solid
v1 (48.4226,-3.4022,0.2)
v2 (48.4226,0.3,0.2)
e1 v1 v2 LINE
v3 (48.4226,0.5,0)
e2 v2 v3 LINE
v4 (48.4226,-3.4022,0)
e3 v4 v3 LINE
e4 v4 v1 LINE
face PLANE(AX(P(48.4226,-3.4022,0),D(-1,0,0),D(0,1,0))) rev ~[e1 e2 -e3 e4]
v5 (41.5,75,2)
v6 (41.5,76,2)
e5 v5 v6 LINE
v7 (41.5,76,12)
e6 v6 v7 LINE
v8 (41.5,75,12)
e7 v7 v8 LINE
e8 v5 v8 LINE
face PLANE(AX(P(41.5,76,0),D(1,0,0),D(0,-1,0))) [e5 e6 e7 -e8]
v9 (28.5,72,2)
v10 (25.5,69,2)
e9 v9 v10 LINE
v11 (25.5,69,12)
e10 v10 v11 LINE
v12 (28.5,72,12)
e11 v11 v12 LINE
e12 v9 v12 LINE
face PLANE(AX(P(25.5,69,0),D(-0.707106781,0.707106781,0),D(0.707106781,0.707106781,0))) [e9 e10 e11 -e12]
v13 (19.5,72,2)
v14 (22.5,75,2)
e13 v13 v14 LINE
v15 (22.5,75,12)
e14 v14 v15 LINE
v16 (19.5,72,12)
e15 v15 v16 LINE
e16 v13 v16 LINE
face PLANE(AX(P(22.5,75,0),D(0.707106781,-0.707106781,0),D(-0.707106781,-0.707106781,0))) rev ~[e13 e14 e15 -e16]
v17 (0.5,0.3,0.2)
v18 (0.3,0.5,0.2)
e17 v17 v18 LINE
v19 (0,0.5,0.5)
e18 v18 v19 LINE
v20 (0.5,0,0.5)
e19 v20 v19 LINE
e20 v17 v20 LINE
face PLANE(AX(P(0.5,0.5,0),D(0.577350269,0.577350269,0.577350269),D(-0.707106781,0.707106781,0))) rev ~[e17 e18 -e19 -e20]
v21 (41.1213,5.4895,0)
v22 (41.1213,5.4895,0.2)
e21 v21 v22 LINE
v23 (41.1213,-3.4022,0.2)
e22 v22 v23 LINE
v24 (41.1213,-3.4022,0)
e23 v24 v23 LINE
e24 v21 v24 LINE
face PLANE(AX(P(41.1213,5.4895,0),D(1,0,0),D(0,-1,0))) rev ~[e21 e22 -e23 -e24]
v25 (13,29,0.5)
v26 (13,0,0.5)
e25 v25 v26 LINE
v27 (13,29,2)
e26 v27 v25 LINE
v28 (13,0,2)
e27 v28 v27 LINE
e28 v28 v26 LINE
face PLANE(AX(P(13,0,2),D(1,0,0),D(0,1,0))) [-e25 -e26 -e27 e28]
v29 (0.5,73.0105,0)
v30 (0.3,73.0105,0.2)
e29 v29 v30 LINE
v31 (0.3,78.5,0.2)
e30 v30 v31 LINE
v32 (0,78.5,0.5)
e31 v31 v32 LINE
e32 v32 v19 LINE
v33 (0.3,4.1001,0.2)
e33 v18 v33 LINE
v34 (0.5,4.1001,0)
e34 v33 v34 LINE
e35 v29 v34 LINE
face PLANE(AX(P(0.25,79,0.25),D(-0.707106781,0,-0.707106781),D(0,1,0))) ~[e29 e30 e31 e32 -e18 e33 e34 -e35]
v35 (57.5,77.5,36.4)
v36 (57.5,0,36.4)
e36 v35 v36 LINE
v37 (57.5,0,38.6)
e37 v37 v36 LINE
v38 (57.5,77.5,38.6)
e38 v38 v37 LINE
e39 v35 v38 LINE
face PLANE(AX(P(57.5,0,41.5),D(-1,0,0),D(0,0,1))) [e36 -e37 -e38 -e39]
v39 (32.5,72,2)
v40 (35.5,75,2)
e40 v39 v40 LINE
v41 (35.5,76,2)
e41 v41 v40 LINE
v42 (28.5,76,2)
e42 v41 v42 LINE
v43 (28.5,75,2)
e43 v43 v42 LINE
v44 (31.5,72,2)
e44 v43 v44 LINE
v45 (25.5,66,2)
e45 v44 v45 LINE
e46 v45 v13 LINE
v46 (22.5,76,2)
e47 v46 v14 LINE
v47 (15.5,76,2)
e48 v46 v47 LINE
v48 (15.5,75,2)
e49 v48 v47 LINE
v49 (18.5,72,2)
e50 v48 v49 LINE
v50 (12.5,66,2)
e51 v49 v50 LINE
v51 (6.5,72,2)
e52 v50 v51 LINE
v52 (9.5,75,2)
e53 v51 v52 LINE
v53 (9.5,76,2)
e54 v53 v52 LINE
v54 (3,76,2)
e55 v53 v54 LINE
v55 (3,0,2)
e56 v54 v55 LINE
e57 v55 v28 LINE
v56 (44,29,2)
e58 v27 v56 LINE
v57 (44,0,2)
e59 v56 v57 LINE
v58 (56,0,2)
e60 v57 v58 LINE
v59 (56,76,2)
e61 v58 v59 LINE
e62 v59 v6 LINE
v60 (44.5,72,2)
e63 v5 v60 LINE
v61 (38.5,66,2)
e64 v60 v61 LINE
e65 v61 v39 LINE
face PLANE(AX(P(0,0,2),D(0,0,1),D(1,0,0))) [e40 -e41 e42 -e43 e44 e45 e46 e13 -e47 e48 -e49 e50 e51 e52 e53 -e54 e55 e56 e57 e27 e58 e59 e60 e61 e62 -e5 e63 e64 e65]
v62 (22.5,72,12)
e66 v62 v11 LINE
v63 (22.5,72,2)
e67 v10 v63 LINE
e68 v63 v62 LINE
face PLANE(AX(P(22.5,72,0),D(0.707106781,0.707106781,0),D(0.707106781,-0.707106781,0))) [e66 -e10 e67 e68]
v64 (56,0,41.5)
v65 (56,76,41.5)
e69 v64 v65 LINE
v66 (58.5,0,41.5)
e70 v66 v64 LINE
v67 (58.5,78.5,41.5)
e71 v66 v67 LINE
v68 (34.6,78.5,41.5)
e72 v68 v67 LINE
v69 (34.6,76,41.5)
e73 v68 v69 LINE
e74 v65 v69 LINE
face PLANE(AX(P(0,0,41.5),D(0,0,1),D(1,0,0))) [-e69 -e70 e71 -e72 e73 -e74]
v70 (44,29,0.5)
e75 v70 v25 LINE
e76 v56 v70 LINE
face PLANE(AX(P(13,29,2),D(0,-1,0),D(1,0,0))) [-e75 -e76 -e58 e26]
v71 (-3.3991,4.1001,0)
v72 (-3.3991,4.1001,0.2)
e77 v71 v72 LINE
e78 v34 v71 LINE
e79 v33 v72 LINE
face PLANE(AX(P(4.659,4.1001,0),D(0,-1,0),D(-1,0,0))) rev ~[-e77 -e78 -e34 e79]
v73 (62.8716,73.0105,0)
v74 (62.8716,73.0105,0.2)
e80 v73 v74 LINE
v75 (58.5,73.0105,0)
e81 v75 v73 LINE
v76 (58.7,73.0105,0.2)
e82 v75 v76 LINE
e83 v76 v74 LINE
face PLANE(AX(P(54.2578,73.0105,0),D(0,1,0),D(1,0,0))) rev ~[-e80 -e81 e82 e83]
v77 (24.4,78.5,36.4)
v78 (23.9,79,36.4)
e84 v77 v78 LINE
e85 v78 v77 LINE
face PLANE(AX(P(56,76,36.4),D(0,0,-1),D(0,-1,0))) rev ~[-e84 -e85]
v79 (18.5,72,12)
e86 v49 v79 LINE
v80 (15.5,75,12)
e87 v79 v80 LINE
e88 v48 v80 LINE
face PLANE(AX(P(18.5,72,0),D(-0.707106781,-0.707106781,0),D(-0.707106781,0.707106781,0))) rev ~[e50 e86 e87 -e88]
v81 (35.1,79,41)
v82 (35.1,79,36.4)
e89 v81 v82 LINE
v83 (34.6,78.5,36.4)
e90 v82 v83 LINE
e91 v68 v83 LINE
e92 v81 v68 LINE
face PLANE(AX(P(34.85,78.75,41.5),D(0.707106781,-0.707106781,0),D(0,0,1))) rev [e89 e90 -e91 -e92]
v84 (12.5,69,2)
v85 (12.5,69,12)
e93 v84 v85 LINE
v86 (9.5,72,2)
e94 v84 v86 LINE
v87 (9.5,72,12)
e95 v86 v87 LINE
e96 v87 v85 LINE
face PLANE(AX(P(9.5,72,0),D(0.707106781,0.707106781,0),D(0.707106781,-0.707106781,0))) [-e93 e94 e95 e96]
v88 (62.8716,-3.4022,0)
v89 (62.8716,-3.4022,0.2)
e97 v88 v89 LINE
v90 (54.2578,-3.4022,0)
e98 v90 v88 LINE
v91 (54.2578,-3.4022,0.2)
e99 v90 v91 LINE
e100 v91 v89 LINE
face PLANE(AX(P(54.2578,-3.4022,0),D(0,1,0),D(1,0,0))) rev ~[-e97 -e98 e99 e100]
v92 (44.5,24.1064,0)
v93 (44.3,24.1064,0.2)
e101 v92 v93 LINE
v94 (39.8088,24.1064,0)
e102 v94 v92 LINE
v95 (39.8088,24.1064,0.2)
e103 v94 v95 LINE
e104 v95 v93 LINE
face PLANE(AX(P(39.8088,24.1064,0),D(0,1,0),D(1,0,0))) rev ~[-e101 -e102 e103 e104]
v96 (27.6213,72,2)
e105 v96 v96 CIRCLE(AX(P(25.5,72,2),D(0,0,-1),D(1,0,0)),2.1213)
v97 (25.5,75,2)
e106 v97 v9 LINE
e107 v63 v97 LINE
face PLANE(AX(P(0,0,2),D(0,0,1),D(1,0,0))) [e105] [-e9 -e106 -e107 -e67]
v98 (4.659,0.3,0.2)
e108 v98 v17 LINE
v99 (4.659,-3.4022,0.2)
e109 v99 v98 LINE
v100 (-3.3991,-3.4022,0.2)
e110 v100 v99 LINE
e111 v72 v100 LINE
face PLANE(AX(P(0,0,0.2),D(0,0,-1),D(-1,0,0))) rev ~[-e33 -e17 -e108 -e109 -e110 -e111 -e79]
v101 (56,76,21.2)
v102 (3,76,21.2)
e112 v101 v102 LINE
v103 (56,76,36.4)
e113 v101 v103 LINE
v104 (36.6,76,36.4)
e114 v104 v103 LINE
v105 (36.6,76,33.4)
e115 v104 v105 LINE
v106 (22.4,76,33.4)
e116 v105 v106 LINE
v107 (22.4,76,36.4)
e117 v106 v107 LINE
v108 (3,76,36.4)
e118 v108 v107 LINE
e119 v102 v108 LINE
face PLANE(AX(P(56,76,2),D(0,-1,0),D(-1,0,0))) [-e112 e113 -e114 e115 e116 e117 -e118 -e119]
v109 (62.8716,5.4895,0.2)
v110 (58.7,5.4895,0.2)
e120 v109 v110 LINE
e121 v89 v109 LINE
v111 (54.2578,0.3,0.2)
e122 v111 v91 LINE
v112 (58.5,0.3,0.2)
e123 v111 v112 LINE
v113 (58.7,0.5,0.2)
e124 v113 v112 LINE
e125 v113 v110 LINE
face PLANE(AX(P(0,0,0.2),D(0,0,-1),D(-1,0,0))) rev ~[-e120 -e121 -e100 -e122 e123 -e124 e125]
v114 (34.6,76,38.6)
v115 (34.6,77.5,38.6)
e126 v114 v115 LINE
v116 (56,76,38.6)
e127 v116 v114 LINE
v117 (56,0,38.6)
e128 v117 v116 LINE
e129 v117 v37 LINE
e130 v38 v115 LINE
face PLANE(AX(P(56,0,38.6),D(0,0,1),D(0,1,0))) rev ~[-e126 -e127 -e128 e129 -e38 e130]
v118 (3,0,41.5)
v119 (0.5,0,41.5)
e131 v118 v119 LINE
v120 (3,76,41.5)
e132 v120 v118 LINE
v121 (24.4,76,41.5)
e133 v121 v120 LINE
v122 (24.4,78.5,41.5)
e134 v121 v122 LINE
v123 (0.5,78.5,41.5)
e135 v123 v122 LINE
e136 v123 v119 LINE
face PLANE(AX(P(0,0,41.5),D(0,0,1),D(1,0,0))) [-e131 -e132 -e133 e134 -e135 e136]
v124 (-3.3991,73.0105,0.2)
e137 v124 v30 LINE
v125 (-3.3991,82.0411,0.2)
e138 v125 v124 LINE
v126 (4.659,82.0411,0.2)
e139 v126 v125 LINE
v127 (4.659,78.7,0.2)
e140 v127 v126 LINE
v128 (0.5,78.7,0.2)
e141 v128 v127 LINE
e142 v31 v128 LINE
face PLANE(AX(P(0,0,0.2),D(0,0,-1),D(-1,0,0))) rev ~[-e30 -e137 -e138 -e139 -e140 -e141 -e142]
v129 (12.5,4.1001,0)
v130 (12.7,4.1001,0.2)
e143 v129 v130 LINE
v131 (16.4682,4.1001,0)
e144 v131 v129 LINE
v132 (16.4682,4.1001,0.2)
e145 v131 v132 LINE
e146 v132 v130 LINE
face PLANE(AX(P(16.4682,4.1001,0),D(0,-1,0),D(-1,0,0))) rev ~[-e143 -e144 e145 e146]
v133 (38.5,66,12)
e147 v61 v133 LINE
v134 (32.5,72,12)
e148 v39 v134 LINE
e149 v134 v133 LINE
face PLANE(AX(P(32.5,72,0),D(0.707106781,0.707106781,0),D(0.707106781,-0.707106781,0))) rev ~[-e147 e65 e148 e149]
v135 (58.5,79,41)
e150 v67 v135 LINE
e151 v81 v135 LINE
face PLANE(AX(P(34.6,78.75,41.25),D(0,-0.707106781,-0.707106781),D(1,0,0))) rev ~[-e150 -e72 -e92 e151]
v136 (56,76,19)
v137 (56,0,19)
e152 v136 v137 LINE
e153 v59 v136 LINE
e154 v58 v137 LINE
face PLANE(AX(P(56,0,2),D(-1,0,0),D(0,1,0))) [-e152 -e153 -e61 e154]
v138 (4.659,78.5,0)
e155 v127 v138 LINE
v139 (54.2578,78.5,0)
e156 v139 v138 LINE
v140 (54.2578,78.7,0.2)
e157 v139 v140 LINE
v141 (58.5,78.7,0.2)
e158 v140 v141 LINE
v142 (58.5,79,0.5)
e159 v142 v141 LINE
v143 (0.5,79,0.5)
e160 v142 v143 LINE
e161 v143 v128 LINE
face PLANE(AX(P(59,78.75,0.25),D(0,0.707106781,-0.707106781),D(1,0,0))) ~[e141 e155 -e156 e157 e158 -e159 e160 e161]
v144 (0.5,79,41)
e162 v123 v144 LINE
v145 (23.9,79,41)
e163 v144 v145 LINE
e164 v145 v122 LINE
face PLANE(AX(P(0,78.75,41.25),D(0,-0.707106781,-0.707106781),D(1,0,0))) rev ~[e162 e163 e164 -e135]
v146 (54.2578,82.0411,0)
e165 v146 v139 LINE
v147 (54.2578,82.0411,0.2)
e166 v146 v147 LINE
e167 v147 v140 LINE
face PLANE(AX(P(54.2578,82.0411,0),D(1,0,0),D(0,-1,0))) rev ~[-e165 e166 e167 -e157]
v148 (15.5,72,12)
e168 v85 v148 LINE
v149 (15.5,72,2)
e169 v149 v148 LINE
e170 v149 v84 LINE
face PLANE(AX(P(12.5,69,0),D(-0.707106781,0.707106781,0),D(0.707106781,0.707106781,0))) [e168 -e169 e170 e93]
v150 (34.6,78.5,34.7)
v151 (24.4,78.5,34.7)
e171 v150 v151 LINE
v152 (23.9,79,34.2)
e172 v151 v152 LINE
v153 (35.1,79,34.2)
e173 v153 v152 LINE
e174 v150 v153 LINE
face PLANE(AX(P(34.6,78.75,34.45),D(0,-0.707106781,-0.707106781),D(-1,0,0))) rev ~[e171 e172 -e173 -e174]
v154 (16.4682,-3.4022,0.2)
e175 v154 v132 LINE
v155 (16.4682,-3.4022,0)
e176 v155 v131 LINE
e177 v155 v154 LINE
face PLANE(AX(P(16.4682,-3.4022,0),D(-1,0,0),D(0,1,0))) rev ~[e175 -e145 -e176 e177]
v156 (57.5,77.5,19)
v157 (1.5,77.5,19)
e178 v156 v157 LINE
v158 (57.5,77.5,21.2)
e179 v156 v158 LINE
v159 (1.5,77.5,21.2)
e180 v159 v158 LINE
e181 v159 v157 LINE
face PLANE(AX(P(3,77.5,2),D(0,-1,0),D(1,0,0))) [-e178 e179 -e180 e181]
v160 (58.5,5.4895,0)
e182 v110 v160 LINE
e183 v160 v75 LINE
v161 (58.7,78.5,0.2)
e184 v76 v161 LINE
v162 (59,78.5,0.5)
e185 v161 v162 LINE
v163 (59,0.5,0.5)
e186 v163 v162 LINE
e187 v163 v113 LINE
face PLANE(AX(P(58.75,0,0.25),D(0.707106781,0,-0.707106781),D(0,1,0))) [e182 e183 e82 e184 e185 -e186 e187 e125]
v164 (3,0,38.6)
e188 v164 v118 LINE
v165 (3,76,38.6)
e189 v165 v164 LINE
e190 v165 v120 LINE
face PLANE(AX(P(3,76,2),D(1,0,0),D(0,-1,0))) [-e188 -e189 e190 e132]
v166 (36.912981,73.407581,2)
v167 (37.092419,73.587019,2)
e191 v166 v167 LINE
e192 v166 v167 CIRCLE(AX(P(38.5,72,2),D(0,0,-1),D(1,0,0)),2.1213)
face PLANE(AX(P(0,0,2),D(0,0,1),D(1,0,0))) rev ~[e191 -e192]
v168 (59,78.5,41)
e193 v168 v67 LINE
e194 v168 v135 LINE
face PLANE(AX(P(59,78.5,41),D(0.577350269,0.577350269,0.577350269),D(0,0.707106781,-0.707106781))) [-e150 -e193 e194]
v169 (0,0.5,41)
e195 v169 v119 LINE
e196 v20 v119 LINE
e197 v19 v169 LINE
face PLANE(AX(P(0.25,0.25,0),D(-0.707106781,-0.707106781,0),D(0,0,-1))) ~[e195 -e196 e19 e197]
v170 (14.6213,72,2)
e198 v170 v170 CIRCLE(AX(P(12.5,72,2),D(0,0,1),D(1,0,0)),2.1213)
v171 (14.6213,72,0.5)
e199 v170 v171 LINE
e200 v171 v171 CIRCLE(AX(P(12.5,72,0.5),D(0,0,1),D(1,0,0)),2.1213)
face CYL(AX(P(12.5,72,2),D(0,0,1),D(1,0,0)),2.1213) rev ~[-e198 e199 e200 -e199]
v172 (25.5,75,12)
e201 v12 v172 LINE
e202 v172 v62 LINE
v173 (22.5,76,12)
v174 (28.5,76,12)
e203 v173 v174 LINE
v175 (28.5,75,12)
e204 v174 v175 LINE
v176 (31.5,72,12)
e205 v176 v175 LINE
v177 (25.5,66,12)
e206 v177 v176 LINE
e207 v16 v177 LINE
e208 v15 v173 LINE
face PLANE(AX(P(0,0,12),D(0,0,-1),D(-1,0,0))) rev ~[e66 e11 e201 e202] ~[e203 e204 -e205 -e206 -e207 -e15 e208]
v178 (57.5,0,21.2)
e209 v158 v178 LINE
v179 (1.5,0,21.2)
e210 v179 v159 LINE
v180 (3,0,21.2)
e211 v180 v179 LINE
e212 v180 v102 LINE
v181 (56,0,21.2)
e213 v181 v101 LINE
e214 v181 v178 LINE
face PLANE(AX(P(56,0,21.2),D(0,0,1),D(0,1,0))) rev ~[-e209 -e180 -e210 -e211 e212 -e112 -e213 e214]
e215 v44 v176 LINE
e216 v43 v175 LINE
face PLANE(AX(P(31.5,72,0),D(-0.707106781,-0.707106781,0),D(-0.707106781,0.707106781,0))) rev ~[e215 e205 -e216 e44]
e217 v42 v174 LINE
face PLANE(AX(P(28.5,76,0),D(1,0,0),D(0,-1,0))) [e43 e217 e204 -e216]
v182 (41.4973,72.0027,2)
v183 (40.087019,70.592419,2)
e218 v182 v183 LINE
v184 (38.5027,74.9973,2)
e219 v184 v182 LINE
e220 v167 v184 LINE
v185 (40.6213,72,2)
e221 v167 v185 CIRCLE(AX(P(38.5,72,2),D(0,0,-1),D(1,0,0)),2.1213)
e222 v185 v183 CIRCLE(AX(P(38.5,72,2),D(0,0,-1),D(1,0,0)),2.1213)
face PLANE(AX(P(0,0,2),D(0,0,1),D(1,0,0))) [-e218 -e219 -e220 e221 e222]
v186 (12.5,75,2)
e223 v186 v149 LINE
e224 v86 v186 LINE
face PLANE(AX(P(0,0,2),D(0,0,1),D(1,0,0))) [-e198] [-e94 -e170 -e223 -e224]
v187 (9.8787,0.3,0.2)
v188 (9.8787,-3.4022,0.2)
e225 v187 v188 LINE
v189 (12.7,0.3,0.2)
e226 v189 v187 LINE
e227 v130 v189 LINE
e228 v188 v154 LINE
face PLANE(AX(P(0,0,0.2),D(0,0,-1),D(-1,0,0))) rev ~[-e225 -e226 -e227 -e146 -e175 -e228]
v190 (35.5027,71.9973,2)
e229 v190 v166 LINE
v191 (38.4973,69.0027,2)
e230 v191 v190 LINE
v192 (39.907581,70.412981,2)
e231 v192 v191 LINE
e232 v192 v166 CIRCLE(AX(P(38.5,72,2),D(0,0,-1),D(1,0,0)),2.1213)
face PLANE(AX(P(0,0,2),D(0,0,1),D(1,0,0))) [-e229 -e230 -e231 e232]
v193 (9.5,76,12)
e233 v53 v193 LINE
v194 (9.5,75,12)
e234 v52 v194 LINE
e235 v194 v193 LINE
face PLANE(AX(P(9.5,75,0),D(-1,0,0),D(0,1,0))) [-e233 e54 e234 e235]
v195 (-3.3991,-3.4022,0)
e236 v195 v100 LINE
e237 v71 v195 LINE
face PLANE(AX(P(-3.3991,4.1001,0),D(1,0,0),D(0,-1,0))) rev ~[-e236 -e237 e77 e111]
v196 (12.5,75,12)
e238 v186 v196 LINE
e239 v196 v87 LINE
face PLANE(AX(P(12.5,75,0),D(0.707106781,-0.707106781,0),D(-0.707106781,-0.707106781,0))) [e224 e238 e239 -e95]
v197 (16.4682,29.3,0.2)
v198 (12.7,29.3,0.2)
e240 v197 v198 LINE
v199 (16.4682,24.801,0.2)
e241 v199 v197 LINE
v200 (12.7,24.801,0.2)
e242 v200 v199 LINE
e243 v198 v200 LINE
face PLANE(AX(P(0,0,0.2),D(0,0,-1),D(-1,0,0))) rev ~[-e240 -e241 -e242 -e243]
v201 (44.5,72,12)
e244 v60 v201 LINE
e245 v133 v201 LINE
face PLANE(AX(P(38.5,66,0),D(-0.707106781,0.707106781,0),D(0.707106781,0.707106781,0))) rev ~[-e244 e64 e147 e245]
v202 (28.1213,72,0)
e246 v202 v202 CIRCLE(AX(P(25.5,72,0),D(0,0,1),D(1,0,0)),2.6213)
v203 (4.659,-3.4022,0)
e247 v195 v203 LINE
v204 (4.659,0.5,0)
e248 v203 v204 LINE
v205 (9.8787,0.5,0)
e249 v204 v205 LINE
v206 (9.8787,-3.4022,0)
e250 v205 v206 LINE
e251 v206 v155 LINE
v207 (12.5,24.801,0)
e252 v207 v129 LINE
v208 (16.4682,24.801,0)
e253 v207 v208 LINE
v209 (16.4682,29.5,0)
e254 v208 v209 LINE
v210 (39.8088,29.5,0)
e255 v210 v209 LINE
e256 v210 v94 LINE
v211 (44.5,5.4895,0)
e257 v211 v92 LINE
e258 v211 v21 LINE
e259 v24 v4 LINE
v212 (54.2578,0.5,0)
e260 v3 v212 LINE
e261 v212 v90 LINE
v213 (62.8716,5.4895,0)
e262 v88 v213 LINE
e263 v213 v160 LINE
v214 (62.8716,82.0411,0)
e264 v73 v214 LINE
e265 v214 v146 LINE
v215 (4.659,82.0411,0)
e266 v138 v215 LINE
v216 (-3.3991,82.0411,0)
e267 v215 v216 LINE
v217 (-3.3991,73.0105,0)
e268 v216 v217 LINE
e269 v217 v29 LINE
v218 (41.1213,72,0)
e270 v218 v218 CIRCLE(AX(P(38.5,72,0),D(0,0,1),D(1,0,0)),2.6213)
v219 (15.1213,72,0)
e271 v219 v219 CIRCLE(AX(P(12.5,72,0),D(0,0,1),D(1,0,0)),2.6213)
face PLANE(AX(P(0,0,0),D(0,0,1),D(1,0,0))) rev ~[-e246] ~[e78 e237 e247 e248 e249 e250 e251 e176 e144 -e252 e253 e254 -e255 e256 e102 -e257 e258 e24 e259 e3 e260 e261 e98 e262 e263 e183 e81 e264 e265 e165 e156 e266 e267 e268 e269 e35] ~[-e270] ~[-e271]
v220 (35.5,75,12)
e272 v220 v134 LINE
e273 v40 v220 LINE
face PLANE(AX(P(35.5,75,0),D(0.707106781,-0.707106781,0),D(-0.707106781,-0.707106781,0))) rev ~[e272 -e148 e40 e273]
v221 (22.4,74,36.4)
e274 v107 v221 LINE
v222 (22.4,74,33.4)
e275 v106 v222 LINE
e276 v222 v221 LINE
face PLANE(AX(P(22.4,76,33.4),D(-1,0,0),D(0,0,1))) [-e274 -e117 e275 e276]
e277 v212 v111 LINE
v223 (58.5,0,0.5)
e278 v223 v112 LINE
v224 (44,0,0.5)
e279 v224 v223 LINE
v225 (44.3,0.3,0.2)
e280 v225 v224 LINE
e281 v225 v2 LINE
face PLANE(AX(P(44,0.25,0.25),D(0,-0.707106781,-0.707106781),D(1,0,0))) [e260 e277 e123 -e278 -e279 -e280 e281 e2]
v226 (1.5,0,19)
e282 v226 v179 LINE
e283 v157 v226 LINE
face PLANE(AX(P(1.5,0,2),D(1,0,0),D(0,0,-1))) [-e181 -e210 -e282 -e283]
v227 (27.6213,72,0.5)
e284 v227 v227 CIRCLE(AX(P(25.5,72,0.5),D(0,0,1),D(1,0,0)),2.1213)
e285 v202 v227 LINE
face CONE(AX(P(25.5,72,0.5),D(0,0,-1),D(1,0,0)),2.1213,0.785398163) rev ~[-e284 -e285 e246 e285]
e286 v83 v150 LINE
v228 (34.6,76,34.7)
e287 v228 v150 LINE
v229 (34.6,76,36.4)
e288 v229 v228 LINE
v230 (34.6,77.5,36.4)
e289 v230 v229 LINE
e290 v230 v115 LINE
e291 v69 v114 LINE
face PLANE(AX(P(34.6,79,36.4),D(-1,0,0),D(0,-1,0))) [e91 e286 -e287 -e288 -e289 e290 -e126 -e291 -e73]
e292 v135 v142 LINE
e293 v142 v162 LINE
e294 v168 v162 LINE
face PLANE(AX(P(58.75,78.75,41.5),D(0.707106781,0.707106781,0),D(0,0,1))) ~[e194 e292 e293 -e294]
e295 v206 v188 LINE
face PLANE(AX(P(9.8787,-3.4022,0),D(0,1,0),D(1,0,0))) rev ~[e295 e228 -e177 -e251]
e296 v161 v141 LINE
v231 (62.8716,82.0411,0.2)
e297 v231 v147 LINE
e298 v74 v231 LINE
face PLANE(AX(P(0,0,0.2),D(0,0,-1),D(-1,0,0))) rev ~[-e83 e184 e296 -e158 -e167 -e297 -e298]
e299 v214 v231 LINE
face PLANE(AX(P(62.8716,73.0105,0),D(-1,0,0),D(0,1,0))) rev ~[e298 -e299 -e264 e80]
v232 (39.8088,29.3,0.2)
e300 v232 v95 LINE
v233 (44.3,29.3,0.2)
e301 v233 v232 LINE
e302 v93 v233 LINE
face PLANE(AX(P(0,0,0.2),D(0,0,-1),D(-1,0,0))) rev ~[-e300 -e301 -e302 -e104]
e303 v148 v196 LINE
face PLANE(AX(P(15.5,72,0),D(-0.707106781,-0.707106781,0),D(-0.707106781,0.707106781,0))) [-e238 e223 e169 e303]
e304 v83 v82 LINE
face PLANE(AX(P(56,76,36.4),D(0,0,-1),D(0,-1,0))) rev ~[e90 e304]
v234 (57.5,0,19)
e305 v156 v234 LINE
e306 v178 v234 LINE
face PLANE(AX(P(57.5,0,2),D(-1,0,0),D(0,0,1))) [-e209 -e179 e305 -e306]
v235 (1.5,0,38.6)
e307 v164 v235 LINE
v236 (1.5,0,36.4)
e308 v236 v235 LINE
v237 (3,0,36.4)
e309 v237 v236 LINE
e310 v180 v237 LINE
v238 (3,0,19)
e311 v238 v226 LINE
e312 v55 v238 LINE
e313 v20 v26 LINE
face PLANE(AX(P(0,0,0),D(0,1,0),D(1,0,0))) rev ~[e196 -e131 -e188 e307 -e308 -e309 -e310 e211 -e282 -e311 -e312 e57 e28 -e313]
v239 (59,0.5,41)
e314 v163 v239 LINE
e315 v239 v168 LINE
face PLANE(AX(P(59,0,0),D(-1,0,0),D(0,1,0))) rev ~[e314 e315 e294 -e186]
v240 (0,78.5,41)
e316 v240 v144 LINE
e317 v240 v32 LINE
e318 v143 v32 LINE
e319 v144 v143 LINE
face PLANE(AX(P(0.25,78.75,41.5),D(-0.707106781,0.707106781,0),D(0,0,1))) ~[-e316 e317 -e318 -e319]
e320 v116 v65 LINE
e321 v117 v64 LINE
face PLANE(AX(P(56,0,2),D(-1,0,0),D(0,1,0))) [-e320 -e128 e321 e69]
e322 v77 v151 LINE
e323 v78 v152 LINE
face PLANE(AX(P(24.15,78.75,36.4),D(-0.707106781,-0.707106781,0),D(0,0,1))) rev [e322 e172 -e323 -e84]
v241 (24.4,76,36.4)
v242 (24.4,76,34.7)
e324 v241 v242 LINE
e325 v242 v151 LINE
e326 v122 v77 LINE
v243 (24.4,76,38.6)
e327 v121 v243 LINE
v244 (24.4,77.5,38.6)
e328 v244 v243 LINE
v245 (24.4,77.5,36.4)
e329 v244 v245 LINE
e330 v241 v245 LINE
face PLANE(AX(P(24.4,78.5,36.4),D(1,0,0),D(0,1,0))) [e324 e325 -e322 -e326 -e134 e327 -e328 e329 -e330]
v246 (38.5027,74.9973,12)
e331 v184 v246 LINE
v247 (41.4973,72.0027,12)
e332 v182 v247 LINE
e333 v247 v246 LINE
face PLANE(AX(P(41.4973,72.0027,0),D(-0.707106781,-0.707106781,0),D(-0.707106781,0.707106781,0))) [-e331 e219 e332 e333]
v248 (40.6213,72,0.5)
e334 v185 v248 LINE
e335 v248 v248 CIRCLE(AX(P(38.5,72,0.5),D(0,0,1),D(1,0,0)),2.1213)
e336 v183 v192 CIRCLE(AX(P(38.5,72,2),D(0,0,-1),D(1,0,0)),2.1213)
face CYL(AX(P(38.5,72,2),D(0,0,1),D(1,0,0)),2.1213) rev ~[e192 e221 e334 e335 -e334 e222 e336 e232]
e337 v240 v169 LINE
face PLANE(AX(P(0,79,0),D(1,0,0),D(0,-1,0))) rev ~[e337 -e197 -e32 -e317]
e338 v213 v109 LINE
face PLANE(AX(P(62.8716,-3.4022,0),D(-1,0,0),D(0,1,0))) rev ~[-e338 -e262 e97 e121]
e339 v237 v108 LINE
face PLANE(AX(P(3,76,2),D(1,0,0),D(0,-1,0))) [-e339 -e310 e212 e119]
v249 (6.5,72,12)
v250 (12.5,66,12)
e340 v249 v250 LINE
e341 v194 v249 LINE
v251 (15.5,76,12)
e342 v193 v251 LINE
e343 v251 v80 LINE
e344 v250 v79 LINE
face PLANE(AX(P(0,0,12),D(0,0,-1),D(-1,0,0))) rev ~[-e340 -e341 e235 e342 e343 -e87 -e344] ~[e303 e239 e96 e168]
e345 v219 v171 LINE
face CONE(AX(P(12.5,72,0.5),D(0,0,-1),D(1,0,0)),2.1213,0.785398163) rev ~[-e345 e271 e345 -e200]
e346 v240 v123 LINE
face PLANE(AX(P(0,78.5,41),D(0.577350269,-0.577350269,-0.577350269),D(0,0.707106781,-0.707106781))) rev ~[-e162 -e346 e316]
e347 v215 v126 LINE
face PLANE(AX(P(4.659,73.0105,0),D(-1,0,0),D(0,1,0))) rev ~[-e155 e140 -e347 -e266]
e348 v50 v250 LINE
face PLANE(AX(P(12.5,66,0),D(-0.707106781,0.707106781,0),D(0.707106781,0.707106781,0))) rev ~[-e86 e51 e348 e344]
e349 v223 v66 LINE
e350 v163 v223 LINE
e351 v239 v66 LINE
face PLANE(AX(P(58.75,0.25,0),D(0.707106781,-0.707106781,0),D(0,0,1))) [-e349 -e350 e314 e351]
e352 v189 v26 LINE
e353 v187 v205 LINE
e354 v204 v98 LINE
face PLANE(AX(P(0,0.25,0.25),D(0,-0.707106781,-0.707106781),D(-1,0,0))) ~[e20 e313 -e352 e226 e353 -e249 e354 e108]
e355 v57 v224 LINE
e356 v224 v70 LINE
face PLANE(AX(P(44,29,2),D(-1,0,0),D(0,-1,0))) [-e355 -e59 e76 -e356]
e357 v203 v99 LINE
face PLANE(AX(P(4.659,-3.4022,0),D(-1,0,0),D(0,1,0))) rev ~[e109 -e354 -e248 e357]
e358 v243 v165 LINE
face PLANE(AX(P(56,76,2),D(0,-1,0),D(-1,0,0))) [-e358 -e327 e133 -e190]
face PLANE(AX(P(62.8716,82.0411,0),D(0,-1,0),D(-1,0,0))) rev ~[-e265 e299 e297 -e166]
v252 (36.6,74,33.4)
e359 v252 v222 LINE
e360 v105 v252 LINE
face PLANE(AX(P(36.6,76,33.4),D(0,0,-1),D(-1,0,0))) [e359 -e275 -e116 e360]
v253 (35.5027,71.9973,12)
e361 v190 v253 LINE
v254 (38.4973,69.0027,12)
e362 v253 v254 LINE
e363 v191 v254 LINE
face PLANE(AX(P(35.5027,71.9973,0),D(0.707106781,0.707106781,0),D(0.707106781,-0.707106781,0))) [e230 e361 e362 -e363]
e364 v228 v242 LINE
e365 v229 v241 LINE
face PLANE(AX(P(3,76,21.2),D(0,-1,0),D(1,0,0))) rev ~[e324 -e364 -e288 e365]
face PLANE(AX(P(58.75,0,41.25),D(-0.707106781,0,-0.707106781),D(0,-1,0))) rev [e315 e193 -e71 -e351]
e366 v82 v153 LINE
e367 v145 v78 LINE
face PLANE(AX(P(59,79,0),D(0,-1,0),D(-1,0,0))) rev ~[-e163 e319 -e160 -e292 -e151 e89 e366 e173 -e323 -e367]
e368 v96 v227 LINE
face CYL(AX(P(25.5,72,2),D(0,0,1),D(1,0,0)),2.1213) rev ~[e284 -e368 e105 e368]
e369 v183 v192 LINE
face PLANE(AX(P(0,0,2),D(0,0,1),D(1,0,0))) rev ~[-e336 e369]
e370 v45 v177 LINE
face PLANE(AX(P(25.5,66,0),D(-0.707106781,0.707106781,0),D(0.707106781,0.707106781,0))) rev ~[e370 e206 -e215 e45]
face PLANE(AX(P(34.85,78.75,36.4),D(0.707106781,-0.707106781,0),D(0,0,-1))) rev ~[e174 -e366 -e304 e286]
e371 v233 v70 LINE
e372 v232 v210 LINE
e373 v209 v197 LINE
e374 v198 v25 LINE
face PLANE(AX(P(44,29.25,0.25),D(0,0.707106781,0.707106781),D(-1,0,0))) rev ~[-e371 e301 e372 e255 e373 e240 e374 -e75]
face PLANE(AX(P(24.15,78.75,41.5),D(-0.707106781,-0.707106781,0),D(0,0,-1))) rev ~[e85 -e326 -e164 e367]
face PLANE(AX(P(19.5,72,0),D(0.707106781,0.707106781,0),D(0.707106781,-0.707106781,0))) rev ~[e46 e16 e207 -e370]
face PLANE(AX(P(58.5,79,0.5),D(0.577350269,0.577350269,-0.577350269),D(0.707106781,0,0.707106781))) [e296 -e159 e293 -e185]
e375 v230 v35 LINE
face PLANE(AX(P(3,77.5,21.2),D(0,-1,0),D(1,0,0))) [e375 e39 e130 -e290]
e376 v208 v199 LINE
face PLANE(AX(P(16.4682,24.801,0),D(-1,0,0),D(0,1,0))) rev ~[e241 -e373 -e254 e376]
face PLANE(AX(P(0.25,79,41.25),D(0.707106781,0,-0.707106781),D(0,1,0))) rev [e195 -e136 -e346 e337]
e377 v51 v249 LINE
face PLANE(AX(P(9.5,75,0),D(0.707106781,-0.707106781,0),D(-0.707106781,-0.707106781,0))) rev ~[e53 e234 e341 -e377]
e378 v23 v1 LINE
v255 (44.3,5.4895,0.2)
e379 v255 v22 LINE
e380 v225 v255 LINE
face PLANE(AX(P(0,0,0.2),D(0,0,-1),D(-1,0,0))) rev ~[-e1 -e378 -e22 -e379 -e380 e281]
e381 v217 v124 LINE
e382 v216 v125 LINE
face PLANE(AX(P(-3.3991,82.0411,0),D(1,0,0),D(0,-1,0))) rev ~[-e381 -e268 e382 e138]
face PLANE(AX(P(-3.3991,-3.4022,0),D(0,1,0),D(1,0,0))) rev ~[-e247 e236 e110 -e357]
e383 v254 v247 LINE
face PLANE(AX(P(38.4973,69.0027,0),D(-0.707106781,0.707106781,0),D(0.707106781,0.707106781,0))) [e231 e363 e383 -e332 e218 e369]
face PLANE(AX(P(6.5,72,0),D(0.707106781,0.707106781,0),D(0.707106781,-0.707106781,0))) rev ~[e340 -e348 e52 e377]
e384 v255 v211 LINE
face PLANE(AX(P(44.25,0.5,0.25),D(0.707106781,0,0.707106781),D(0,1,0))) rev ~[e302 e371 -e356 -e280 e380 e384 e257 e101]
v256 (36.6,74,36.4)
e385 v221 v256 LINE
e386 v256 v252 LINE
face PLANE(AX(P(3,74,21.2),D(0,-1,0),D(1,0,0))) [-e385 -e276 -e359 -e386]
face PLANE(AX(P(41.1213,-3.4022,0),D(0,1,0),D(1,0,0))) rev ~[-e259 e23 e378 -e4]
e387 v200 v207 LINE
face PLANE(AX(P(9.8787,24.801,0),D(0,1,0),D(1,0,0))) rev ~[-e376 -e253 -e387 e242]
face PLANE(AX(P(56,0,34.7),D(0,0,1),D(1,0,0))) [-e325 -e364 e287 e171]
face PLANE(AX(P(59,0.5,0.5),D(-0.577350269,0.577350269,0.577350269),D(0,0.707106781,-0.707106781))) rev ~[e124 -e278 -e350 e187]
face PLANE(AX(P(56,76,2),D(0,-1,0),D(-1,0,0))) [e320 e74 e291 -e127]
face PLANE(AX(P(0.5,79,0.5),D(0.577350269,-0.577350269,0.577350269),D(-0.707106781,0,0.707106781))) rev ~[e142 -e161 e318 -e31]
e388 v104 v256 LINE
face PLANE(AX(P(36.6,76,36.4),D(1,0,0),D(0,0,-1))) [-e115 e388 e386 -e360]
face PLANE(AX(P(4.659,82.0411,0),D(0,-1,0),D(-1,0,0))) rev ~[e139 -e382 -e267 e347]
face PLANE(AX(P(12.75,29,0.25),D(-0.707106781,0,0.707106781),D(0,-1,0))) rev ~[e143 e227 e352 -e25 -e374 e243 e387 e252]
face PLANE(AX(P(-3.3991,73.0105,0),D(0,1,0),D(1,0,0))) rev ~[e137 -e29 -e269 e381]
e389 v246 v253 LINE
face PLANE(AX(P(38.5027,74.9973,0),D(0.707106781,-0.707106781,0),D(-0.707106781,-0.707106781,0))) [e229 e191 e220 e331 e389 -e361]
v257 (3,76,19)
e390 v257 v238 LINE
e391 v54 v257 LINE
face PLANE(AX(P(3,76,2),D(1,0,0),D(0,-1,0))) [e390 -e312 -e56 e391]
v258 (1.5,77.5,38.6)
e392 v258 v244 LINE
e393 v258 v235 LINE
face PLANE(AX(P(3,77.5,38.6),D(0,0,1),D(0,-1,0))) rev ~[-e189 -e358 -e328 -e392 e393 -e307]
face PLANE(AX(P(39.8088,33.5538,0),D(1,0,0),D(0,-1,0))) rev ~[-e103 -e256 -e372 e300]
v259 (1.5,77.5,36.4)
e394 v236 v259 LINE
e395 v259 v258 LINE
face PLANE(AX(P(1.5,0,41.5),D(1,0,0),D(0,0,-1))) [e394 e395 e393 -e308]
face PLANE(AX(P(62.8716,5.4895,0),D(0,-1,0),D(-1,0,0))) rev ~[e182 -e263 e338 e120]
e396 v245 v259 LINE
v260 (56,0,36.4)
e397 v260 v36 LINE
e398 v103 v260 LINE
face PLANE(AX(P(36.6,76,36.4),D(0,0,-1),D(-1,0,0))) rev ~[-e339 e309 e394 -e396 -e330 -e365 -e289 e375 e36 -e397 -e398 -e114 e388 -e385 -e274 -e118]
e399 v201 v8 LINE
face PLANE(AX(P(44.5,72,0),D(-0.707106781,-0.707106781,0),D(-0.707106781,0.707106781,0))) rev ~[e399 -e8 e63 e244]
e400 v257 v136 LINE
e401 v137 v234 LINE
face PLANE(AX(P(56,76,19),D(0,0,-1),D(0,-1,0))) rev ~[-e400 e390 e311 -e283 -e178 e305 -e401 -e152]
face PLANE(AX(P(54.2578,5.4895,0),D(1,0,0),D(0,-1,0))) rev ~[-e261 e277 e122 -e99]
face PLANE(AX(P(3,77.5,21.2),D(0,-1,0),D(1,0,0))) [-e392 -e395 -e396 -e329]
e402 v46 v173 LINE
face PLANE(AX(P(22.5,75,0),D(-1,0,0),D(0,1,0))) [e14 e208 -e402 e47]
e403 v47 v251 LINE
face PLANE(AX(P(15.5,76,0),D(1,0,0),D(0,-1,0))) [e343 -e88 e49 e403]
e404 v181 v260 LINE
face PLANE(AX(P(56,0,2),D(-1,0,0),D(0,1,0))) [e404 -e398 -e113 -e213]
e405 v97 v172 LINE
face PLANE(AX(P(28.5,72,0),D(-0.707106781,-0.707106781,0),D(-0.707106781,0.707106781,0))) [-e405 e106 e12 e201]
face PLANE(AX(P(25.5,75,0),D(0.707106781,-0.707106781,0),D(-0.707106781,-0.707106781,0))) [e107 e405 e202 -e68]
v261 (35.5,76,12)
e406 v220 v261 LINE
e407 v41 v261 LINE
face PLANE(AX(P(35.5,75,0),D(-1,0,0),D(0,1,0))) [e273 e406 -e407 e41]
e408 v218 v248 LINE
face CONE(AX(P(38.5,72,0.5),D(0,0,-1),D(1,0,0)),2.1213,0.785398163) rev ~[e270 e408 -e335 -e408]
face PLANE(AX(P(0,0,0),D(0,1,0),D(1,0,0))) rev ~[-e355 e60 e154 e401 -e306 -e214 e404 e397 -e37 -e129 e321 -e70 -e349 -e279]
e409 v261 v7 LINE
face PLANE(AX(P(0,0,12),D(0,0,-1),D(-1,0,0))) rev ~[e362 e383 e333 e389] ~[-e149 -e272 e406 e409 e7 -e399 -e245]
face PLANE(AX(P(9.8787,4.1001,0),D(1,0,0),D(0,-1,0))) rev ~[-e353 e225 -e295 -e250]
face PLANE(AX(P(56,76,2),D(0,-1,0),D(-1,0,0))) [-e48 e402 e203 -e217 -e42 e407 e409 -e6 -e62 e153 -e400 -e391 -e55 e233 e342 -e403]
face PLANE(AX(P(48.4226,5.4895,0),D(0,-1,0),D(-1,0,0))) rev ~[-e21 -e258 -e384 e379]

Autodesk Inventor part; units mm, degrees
ref_plane "YZ Plane" through (0, 0, 0) normal (1, 0, 0) x (0, 1, 0)
ref_plane "XZ Plane" through (0, 0, 0) normal (0, 1, 0) x (-1, 0, 0)
ref_plane "XY Plane" through (0, 0, 0) normal (0, 0, 1) x (1, 0, 0)
sketch "Sketch1" plane through (0, 0, 0) normal (0, 0, 1) x (1, 0, 0)
  line L0 (0, 0) -> (59, 0)
  line L1 (59, 0) -> (59, 79)
  line L2 (59, 79) -> (0, 79)
  line L3 (0, 79) -> (0, 0)
  dimension "d0" = 59
  dimension "d1" = 79
extrude "Base" add sketch "Sketch1" along normal blind 2
sketch "Sketch2" plane through (0, 0, 2) normal (0, 0, 1) x (1, 0, 0)
  line L0 (59, 0) -> (59, 79) projected
  line L1 (0, 79) -> (0, 0) projected
  line L2 (0, 0) -> (0, 79) projected
  line L3 (0, 79) -> (59, 79) projected
  line L4 (59, 79) -> (59, 0) projected
  line L5 (59, 0) -> (0, 0) projected
  line L6 (3, 0) -> (56, 0)
  line L7 (56, 0) -> (56, 76)
  line L8 (56, 76) -> (3, 76)
  line L9 (3, 76) -> (3, 0)
  dimension "d25" = 3
  dimension "d26" = 3
  dimension "d27" = 3
extrude "Wall" add sketch "Sketch2" along normal blind 39.5 contours L5 L7 L8 L9 L1 L3 L0
sketch "Sketch5" plane through (56, 0, 2) normal (-1, 0, 0) x (0, 0, 1)
  line L0 (39.5, 0) -> (0, 0) projected
  line L1 (0, 76) -> (39.5, 76) projected
  line L2 (0, 76) -> (17, 76) construction
  line L3 (17, 76) -> (17, 0) construction
  line L4 (17, 0) -> (0, 0) construction
  line L5 (0, 0) -> (0, 76) construction
  line L6 (17, 0) -> (19.2, 0)
  line L7 (19.2, 0) -> (19.2, 76)
  line L8 (19.2, 76) -> (17, 76)
  line L9 (17, 76) -> (17, 0)
  point P0 (-2, 0)
  dimension "d28" = 17
  dimension "d29" = 2.2
extrude "slider pcb 1" cut sketch "Sketch5" against normal blind 1.5
sketch "Sketch8" plane through (3, 76, 2) normal (0, -1, 0) x (1, 0, 0)
  line L0 (0, 0) -> (0, 39.5) projected
  line L1 (54.5, 19.2) -> (0, 19.2)
  line L2 (0, 19.2) -> (0, 17)
  line L3 (0, 17) -> (54.5, 17)
  line L4 (54.5, 17) -> (54.5, 19.2)
  point P0 (-3, -2)
extrude "slider pcb 2" cut sketch "Sketch8" against normal blind 1.5
sketch "Sketch9" plane through (3, 0, 2) normal (1, 0, 0) x (0, 0, -1)
  line L0 (0, 0) -> (-39.5, 0) projected
  line L1 (-19.2, 77.5) -> (-17, 77.5)
  line L2 (-17, 77.5) -> (-17, 0)
  line L3 (-17, 0) -> (-19.2, 0)
  line L4 (-19.2, 0) -> (-19.2, 77.5)
  point P0 (2, 0)
extrude "slider pcb 3" cut sketch "Sketch9" against normal blind 1.5
sketch "Sketch10" plane through (56, 0, 41.5) normal (-1, 0, 0) x (0, 0, 1)
  line L0 (0, 0) -> (-20.3, 0) projected
  line L1 (-20.3, 76) -> (0, 76) projected
  line L2 (0, 0) -> (-2.9, 0) construction
  line L3 (-2.9, 0) -> (-2.9, 76) construction
  line L4 (-2.9, 76) -> (0, 76) construction
  line L5 (0, 76) -> (0, 0) construction
  line L6 (-2.9, 76) -> (-5.1, 76)
  line L7 (-5.1, 76) -> (-5.1, 0)
  line L8 (-5.1, 0) -> (-2.9, 0)
  line L9 (-2.9, 0) -> (-2.9, 76)
  point P0 (-41.5, 0)
  dimension "d40" = 2.9
  dimension "d41" = 2.2
extrude "slider bottom 1" cut sketch "Sketch10" against normal blind 1.5
sketch "Sketch13" plane through (0, 0, 41.5) normal (0, 0, 1) x (1, 0, 0)
  line L0 (3, 76) -> (56, 76) projected
  line L1 (59, 0) -> (59, 79) projected
  line L2 (59, 79) -> (0, 79) projected
  line L3 (0, 79) -> (24.4, 79) construction
  line L4 (24.4, 79) -> (24.4, 76) construction
  line L5 (24.4, 76) -> (0, 76) construction
  line L6 (0, 76) -> (0, 79) construction
  line L7 (34.6, 79) -> (59, 79) construction
  line L8 (59, 79) -> (59, 76) construction
  line L9 (59, 76) -> (34.6, 76) construction
  line L10 (34.6, 76) -> (34.6, 79) construction
  line L11 (24.4, 79) -> (34.6, 79)
  line L12 (34.6, 79) -> (34.6, 76)
  line L13 (34.6, 76) -> (24.4, 76)
  line L14 (24.4, 76) -> (24.4, 79)
  dimension "d48" = 24.4
  dimension "d49" = 24.4
  dimension "d50" = 10.2
extrude "snapper keepout" cut sketch "Sketch13" against normal blind 5.1
sketch "Sketch14" plane through (0, 0, 2) normal (0, 0, 1) x (1, 0, 0)
  line L0 (56, 0) -> (56, 76) projected
  line L1 (3, 76) -> (3, 0) projected
  line L2 (3, 0) -> (56, 0) projected
  line L3 (3, 0) -> (13, 0) construction
  line L4 (13, 0) -> (13, 29) construction
  line L5 (13, 29) -> (3, 29) construction
  line L6 (3, 29) -> (3, 0) construction
  line L7 (13, 29) -> (44, 29)
  line L8 (44, 29) -> (44, 0)
  line L9 (44, 0) -> (13, 0)
  line L10 (13, 0) -> (13, 29)
  point P0 (0, 0)
  dimension "d53" = 29
  dimension "d54" = 10
  dimension "d55" = 12
extrude "led" cut sketch "Sketch14" against normal up to next
chamfer "Chamfer1" distance 0.5 angle 45 15 edges at (46.8, 79, 41.5) (59, 39.5, 41.5) (12.2, 79, 41.5) (0, 39.5, 41.5) (0, 0, 20.75) (6.5, 0, 0) (51.5, 0, 0) (59, 0, 20.75) (59, 39.5, 0) (0, 39.5, 0) (29.5, 79, 0) (59, 79, 20.75) (0, 79, 20.75) (24.4, 79, 38.95) (34.6, 79, 38.95)
chamfer "Chamfer2" distance 0.5 angle 45 3 edges at (13, 14.75, 0) (28.5, 29, 0) (44, 14.75, 0)
sketch "Sketch15" plane through (3, 76, 21.2) normal (0, -1, 0) x (1, 0, 0)
  line L0 (0, 0) -> (0, 20.3) projected
  line L1 (54.5, 17.4) -> (0, 17.4)
  line L2 (0, 17.4) -> (0, 15.2)
  line L3 (0, 15.2) -> (54.5, 15.2)
  line L4 (54.5, 15.2) -> (54.5, 17.4)
  point P0 (-3, -21.2)
extrude "slider bottom 2" cut sketch "Sketch15" against normal blind 1.5
sketch "Sketch16" plane through (3, 0, 41.5) normal (1, 0, 0) x (0, 0, -1)
  line L0 (20.3, 0) -> (0, 0) projected
  line L1 (5.1, 77.5) -> (2.9, 77.5)
  line L2 (2.9, 77.5) -> (2.9, 0)
  line L3 (2.9, 0) -> (5.1, 0)
  line L4 (5.1, 0) -> (5.1, 77.5)
  point P0 (41.5, 0)
extrude "slider bottom 3" cut sketch "Sketch16" against normal blind 1.5
sketch "Sketch18" plane through (56, 0, 36.4) normal (0, 0, 1) x (1, 0, 0)
  line L0 (-20.9, 79) -> (-32.1, 79) projected
  line L1 (-31.6, 76) -> (-31.6, 78.5) projected
  line L2 (-21.4, 78.5) -> (-21.4, 76) projected
  line L3 (-31.6, 79) -> (-21.4, 79)
  line L4 (-21.4, 79) -> (-21.4, 76)
  line L5 (-21.4, 76) -> (-31.6, 76)
  line L6 (-31.6, 76) -> (-31.6, 79)
  point P0 (-56, 0)
  point P1 (-26.5, 79)
  dimension "d73" = 3
extrude "snapper keepout 2" cut sketch "Sketch18" against normal blind 1.7
sketch "Sketch20" plane through (3, 76, 21.2) normal (0, -1, 0) x (1, 0, 0)
  line L0 (53, 15.2) -> (0, 15.2) projected
  line L1 (19.4, 15.2) -> (33.6, 15.2)
  line L2 (33.6, 15.2) -> (33.6, 12.2)
  line L3 (33.6, 12.2) -> (19.4, 12.2)
  line L4 (19.4, 12.2) -> (19.4, 15.2)
  line L5 (31.6, 15.2) -> (31.6, 17.4) projected
  line L6 (21.4, 17.4) -> (21.4, 15.2) projected
  point P0 (-3, -21.2)
  dimension "d79" = 2
  dimension "d80" = 2
  dimension "d81" = 3
extrude "support snapper" add sketch "Sketch20" along normal blind 2
chamfer "Chamfer4" distance 0.5 angle 45 3 edges at (24.4, 79, 35.55) (29.5, 79, 34.7) (34.6, 79, 35.55)
sketch "Sketch3" plane through (0, 0, 0) normal (0, 0, -1) x (-1, 0, 0)
  line L0 (0, 0) -> (-59, 0) projected
  line L1 (0, 79) -> (0, 0) projected
  line L2 (-59, 0) -> (-59, 79) projected
  line L3 (-3, 76) -> (-3, 3) construction
  line L4 (-3, 3) -> (-56, 3) construction
  line L5 (-56, 3) -> (-56, 76) construction
  line L6 (-3, 76) -> (-56, 76) construction
  line L7 (-56, 76) -> (-56, 75) construction
  line L8 (-3, 75) -> (-3, 76) construction
  line L9 (-3, 75) -> (-9.5, 75) construction
  line L10 (-9.5, 75) -> (-9.5, 69) construction
  line L11 (-9.5, 69) -> (-3, 69) construction
  line L12 (-3, 69) -> (-3, 75) construction
  line L13 (-9.5, 69) -> (-15.5, 69) construction
  line L14 (-15.5, 69) -> (-15.5, 75) construction
  line L15 (-15.5, 75) -> (-12.5, 75) construction
  line L16 (-9.5, 75) -> (-9.5, 69) construction
  line L17 (-3, 69) -> (-22.5, 69) construction
  line L18 (-22.5, 69) -> (-22.5, 75) construction
  line L19 (-22.5, 75) -> (-3, 75) construction
  line L20 (-3, 75) -> (-3, 69) construction
  line L21 (-22.5, 69) -> (-28.5, 69) construction
  line L22 (-28.5, 69) -> (-28.5, 75) construction
  line L23 (-22.5, 75) -> (-22.5, 69) construction
  line L24 (-3, 69) -> (-35.5, 69) construction
  line L25 (-35.5, 69) -> (-35.5, 75) construction
  line L26 (-3, 75) -> (-3, 69) construction
  line L27 (-35.5, 69) -> (-41.5, 69) construction
  line L28 (-41.5, 69) -> (-41.5, 75) construction
  line L29 (-35.5, 75) -> (-35.5, 69) construction
  line L30 (-9.5, 69) -> (-15.5, 75) construction
  line L31 (-15.5, 69) -> (-9.5, 75) construction
  line L32 (-22.5, 69) -> (-28.5, 75) construction
  line L33 (-28.5, 69) -> (-22.5, 75) construction
  line L34 (-35.5, 69) -> (-41.5, 75) construction
  line L35 (-41.5, 69) -> (-35.5, 75) construction
  line L36 (-38.5, 66) -> (-44.5, 72)
  line L37 (-35.5, 75) -> (-32.5, 72)
  line L38 (-32.5, 72) -> (-38.5, 66)
  line L39 (-38.5, 66) -> (-38.5, 78) construction
  line L40 (-44.5, 72) -> (-32.5, 72) construction
  line L41 (-25.5, 66) -> (-31.5, 72)
  line L42 (-19.5, 72) -> (-25.5, 66)
  line L43 (-25.5, 66) -> (-25.5, 78) construction
  line L44 (-31.5, 72) -> (-19.5, 72) construction
  line L45 (-12.5, 66) -> (-18.5, 72)
  line L46 (-18.5, 72) -> (-15.5, 75)
  line L47 (-6.5, 72) -> (-12.5, 66)
  line L48 (-12.5, 66) -> (-12.5, 78) construction
  line L49 (-18.5, 72) -> (-6.5, 72) construction
  line L50 (-35.5, 75) -> (-35.5, 76)
  line L51 (-35.5, 76) -> (-41.5, 76)
  line L52 (-41.5, 76) -> (-41.5, 75)
  line L53 (-22.5, 75) -> (-22.5, 76)
  line L54 (-22.5, 76) -> (-28.5, 76)
  line L55 (-28.5, 76) -> (-28.5, 75)
  line L56 (-9.5, 75) -> (-9.5, 76)
  line L57 (-9.5, 76) -> (-15.5, 76)
  line L58 (-15.5, 76) -> (-15.5, 75)
  line L59 (-44.5, 72) -> (-41.5, 75)
  line L60 (-56, 75) -> (-41.5, 75) construction
  line L61 (-31.5, 72) -> (-28.5, 75)
  line L62 (-35.5, 75) -> (-28.5, 75) construction
  line L63 (-35.5, 75) -> (-28.5, 75) construction
  line L64 (-22.5, 75) -> (-3, 75) construction
  line L65 (-22.5, 75) -> (-19.5, 72)
  line L66 (-56, 76) -> (-14.5, 76) construction
  line L67 (-12.5, 76) -> (-3, 76) construction
  line L68 (-22.5, 75) -> (-12.5, 75) construction
  line L69 (-9.5, 75) -> (-3, 75) construction
  line L70 (-9.5, 75) -> (-6.5, 72)
  line L71 (-38.4973, 69.0027) -> (-41.4973, 72.0027)
  line L72 (-41.4973, 72.0027) -> (-38.5027, 74.9973)
  line L73 (-38.5027, 74.9973) -> (-35.5027, 71.9973)
  line L74 (-35.5027, 71.9973) -> (-38.4973, 69.0027)
  line L75 (-38.4973, 69.0027) -> (-38.5027, 74.9973) construction
  line L76 (-41.4973, 72.0027) -> (-35.5027, 71.9973) construction
  line L77 (-25.5, 75) -> (-22.5, 72)
  line L78 (-22.5, 72) -> (-25.5, 69)
  line L79 (-25.5, 69) -> (-28.5, 72)
  line L80 (-28.5, 72) -> (-25.5, 75)
  line L81 (-25.5, 75) -> (-25.5, 69) construction
  line L82 (-22.5, 72) -> (-28.5, 72) construction
  line L83 (-12.5, 69) -> (-15.5, 72)
  line L84 (-15.5, 72) -> (-12.5, 75)
  line L85 (-12.5, 75) -> (-9.5, 72)
  line L86 (-9.5, 72) -> (-12.5, 69)
  line L87 (-12.5, 69) -> (-12.5, 75) construction
  line L88 (-15.5, 72) -> (-9.5, 72) construction
  point P0 (-38.5, 72)
  point P1 (-25.5, 72)
  point P2 (-12.5, 72)
  dimension "d11" = 6.5
  dimension "d12" = 6
  dimension "d13" = 6
  dimension "d14" = 19.5
  dimension "d15" = 6
  dimension "d16" = 32.5
  dimension "d17" = 6
  dimension "d95" = 4.2426
  dimension "d96" = 4.2349
  dimension "d97" = 2.1252
  dimension "d98" = 2.1213
extrude "Button" add sketch "Sketch3" against normal blind 12
sketch "Sketch22" plane through (0, 0, 2) normal (0, 0, 1) x (1, 0, 0)
  line L0 (28.5, 72) -> (25.5, 75) projected
  line L1 (25.5, 75) -> (22.5, 72) projected
  line L2 (22.5, 72) -> (25.5, 69) projected
  line L3 (25.5, 69) -> (28.5, 72) projected
  line L4 (35.5027, 71.9973) -> (38.4973, 69.0027) projected
  line L5 (38.4973, 69.0027) -> (41.4973, 72.0027) projected
  line L6 (41.4973, 72.0027) -> (38.5027, 74.9973) projected
  line L7 (38.5027, 74.9973) -> (35.5027, 71.9973) projected
  line L8 (9.5, 72) -> (41.4973, 72.0027) construction
  line L9 (12.5, 75) -> (12.5, 69) construction
  line L10 (25.5, 75) -> (25.5, 69) construction
  line L11 (38.5027, 74.9973) -> (38.4973, 69.0027) construction
  circle A0 centre (12.5, 72) radius 2.1213
  circle A1 centre (25.5, 72) radius 2.1213
  circle A2 centre (38.5, 72) radius 2.1213
  point P0 (0, 0)
extrude "Extrusion24" cut sketch "Sketch22" against normal up to next contours A1 | A2 L7 L5 | A2 L7 | L5 A2 | A0
chamfer "Chamfer7" distance 0.5 angle 45 3 edges at (36.3787, 72, 0) (23.3787, 72, 0) (10.3787, 72, 0)
sketch "Sketch23" plane through (0, 0, 0) normal (0, 0, -1) x (-1, 0, 0)
  line L0 (-62.8716, 5.4895) -> (-54.2578, 5.4895)
  line L1 (-54.2578, 5.4895) -> (-54.2578, -3.4022)
  line L2 (-54.2578, -3.4022) -> (-62.8716, -3.4022)
  line L3 (-62.8716, -3.4022) -> (-62.8716, 5.4895)
  line L4 (-48.4226, 5.4895) -> (-41.1213, 5.4895)
  line L5 (-41.1213, 5.4895) -> (-41.1213, -3.4022)
  line L6 (-41.1213, -3.4022) -> (-48.4226, -3.4022)
  line L7 (-48.4226, -3.4022) -> (-48.4226, 5.4895)
  line L8 (-16.4682, 4.1001) -> (-9.8787, 4.1001)
  line L9 (-9.8787, 4.1001) -> (-9.8787, -3.4022)
  line L10 (-9.8787, -3.4022) -> (-16.4682, -3.4022)
  line L11 (-16.4682, -3.4022) -> (-16.4682, 4.1001)
  line L12 (-4.659, 4.1001) -> (3.3991, 4.1001)
  line L13 (3.3991, 4.1001) -> (3.3991, -3.4022)
  line L14 (3.3991, -3.4022) -> (-4.659, -3.4022)
  line L15 (-4.659, -3.4022) -> (-4.659, 4.1001)
  line L16 (-16.4682, 33.5538) -> (-9.8787, 33.5538)
  line L17 (-9.8787, 33.5538) -> (-9.8787, 24.801)
  line L18 (-9.8787, 24.801) -> (-16.4682, 24.801)
  line L19 (-16.4682, 24.801) -> (-16.4682, 33.5538)
  line L20 (-47.5891, 33.5538) -> (-39.8088, 33.5538)
  line L21 (-39.8088, 33.5538) -> (-39.8088, 24.1064)
  line L22 (-39.8088, 24.1064) -> (-47.5891, 24.1064)
  line L23 (-47.5891, 24.1064) -> (-47.5891, 33.5538)
  line L24 (-4.659, 82.0411) -> (3.3991, 82.0411)
  line L25 (3.3991, 82.0411) -> (3.3991, 73.0105)
  line L26 (3.3991, 73.0105) -> (-4.659, 73.0105)
  line L27 (-4.659, 73.0105) -> (-4.659, 82.0411)
  line L28 (-62.8716, 82.0411) -> (-54.2578, 82.0411)
  line L29 (-54.2578, 82.0411) -> (-54.2578, 73.0105)
  line L30 (-54.2578, 73.0105) -> (-62.8716, 73.0105)
  line L31 (-62.8716, 73.0105) -> (-62.8716, 82.0411)
  point P0 (0, 0)
extrude "printing support" add sketch "Sketch23" against normal blind 0.2
equation "\"d26\" = d25"
equation "\"d27\" = d26"
equation "\"d49\" = d48"
properties part number "TOP"
